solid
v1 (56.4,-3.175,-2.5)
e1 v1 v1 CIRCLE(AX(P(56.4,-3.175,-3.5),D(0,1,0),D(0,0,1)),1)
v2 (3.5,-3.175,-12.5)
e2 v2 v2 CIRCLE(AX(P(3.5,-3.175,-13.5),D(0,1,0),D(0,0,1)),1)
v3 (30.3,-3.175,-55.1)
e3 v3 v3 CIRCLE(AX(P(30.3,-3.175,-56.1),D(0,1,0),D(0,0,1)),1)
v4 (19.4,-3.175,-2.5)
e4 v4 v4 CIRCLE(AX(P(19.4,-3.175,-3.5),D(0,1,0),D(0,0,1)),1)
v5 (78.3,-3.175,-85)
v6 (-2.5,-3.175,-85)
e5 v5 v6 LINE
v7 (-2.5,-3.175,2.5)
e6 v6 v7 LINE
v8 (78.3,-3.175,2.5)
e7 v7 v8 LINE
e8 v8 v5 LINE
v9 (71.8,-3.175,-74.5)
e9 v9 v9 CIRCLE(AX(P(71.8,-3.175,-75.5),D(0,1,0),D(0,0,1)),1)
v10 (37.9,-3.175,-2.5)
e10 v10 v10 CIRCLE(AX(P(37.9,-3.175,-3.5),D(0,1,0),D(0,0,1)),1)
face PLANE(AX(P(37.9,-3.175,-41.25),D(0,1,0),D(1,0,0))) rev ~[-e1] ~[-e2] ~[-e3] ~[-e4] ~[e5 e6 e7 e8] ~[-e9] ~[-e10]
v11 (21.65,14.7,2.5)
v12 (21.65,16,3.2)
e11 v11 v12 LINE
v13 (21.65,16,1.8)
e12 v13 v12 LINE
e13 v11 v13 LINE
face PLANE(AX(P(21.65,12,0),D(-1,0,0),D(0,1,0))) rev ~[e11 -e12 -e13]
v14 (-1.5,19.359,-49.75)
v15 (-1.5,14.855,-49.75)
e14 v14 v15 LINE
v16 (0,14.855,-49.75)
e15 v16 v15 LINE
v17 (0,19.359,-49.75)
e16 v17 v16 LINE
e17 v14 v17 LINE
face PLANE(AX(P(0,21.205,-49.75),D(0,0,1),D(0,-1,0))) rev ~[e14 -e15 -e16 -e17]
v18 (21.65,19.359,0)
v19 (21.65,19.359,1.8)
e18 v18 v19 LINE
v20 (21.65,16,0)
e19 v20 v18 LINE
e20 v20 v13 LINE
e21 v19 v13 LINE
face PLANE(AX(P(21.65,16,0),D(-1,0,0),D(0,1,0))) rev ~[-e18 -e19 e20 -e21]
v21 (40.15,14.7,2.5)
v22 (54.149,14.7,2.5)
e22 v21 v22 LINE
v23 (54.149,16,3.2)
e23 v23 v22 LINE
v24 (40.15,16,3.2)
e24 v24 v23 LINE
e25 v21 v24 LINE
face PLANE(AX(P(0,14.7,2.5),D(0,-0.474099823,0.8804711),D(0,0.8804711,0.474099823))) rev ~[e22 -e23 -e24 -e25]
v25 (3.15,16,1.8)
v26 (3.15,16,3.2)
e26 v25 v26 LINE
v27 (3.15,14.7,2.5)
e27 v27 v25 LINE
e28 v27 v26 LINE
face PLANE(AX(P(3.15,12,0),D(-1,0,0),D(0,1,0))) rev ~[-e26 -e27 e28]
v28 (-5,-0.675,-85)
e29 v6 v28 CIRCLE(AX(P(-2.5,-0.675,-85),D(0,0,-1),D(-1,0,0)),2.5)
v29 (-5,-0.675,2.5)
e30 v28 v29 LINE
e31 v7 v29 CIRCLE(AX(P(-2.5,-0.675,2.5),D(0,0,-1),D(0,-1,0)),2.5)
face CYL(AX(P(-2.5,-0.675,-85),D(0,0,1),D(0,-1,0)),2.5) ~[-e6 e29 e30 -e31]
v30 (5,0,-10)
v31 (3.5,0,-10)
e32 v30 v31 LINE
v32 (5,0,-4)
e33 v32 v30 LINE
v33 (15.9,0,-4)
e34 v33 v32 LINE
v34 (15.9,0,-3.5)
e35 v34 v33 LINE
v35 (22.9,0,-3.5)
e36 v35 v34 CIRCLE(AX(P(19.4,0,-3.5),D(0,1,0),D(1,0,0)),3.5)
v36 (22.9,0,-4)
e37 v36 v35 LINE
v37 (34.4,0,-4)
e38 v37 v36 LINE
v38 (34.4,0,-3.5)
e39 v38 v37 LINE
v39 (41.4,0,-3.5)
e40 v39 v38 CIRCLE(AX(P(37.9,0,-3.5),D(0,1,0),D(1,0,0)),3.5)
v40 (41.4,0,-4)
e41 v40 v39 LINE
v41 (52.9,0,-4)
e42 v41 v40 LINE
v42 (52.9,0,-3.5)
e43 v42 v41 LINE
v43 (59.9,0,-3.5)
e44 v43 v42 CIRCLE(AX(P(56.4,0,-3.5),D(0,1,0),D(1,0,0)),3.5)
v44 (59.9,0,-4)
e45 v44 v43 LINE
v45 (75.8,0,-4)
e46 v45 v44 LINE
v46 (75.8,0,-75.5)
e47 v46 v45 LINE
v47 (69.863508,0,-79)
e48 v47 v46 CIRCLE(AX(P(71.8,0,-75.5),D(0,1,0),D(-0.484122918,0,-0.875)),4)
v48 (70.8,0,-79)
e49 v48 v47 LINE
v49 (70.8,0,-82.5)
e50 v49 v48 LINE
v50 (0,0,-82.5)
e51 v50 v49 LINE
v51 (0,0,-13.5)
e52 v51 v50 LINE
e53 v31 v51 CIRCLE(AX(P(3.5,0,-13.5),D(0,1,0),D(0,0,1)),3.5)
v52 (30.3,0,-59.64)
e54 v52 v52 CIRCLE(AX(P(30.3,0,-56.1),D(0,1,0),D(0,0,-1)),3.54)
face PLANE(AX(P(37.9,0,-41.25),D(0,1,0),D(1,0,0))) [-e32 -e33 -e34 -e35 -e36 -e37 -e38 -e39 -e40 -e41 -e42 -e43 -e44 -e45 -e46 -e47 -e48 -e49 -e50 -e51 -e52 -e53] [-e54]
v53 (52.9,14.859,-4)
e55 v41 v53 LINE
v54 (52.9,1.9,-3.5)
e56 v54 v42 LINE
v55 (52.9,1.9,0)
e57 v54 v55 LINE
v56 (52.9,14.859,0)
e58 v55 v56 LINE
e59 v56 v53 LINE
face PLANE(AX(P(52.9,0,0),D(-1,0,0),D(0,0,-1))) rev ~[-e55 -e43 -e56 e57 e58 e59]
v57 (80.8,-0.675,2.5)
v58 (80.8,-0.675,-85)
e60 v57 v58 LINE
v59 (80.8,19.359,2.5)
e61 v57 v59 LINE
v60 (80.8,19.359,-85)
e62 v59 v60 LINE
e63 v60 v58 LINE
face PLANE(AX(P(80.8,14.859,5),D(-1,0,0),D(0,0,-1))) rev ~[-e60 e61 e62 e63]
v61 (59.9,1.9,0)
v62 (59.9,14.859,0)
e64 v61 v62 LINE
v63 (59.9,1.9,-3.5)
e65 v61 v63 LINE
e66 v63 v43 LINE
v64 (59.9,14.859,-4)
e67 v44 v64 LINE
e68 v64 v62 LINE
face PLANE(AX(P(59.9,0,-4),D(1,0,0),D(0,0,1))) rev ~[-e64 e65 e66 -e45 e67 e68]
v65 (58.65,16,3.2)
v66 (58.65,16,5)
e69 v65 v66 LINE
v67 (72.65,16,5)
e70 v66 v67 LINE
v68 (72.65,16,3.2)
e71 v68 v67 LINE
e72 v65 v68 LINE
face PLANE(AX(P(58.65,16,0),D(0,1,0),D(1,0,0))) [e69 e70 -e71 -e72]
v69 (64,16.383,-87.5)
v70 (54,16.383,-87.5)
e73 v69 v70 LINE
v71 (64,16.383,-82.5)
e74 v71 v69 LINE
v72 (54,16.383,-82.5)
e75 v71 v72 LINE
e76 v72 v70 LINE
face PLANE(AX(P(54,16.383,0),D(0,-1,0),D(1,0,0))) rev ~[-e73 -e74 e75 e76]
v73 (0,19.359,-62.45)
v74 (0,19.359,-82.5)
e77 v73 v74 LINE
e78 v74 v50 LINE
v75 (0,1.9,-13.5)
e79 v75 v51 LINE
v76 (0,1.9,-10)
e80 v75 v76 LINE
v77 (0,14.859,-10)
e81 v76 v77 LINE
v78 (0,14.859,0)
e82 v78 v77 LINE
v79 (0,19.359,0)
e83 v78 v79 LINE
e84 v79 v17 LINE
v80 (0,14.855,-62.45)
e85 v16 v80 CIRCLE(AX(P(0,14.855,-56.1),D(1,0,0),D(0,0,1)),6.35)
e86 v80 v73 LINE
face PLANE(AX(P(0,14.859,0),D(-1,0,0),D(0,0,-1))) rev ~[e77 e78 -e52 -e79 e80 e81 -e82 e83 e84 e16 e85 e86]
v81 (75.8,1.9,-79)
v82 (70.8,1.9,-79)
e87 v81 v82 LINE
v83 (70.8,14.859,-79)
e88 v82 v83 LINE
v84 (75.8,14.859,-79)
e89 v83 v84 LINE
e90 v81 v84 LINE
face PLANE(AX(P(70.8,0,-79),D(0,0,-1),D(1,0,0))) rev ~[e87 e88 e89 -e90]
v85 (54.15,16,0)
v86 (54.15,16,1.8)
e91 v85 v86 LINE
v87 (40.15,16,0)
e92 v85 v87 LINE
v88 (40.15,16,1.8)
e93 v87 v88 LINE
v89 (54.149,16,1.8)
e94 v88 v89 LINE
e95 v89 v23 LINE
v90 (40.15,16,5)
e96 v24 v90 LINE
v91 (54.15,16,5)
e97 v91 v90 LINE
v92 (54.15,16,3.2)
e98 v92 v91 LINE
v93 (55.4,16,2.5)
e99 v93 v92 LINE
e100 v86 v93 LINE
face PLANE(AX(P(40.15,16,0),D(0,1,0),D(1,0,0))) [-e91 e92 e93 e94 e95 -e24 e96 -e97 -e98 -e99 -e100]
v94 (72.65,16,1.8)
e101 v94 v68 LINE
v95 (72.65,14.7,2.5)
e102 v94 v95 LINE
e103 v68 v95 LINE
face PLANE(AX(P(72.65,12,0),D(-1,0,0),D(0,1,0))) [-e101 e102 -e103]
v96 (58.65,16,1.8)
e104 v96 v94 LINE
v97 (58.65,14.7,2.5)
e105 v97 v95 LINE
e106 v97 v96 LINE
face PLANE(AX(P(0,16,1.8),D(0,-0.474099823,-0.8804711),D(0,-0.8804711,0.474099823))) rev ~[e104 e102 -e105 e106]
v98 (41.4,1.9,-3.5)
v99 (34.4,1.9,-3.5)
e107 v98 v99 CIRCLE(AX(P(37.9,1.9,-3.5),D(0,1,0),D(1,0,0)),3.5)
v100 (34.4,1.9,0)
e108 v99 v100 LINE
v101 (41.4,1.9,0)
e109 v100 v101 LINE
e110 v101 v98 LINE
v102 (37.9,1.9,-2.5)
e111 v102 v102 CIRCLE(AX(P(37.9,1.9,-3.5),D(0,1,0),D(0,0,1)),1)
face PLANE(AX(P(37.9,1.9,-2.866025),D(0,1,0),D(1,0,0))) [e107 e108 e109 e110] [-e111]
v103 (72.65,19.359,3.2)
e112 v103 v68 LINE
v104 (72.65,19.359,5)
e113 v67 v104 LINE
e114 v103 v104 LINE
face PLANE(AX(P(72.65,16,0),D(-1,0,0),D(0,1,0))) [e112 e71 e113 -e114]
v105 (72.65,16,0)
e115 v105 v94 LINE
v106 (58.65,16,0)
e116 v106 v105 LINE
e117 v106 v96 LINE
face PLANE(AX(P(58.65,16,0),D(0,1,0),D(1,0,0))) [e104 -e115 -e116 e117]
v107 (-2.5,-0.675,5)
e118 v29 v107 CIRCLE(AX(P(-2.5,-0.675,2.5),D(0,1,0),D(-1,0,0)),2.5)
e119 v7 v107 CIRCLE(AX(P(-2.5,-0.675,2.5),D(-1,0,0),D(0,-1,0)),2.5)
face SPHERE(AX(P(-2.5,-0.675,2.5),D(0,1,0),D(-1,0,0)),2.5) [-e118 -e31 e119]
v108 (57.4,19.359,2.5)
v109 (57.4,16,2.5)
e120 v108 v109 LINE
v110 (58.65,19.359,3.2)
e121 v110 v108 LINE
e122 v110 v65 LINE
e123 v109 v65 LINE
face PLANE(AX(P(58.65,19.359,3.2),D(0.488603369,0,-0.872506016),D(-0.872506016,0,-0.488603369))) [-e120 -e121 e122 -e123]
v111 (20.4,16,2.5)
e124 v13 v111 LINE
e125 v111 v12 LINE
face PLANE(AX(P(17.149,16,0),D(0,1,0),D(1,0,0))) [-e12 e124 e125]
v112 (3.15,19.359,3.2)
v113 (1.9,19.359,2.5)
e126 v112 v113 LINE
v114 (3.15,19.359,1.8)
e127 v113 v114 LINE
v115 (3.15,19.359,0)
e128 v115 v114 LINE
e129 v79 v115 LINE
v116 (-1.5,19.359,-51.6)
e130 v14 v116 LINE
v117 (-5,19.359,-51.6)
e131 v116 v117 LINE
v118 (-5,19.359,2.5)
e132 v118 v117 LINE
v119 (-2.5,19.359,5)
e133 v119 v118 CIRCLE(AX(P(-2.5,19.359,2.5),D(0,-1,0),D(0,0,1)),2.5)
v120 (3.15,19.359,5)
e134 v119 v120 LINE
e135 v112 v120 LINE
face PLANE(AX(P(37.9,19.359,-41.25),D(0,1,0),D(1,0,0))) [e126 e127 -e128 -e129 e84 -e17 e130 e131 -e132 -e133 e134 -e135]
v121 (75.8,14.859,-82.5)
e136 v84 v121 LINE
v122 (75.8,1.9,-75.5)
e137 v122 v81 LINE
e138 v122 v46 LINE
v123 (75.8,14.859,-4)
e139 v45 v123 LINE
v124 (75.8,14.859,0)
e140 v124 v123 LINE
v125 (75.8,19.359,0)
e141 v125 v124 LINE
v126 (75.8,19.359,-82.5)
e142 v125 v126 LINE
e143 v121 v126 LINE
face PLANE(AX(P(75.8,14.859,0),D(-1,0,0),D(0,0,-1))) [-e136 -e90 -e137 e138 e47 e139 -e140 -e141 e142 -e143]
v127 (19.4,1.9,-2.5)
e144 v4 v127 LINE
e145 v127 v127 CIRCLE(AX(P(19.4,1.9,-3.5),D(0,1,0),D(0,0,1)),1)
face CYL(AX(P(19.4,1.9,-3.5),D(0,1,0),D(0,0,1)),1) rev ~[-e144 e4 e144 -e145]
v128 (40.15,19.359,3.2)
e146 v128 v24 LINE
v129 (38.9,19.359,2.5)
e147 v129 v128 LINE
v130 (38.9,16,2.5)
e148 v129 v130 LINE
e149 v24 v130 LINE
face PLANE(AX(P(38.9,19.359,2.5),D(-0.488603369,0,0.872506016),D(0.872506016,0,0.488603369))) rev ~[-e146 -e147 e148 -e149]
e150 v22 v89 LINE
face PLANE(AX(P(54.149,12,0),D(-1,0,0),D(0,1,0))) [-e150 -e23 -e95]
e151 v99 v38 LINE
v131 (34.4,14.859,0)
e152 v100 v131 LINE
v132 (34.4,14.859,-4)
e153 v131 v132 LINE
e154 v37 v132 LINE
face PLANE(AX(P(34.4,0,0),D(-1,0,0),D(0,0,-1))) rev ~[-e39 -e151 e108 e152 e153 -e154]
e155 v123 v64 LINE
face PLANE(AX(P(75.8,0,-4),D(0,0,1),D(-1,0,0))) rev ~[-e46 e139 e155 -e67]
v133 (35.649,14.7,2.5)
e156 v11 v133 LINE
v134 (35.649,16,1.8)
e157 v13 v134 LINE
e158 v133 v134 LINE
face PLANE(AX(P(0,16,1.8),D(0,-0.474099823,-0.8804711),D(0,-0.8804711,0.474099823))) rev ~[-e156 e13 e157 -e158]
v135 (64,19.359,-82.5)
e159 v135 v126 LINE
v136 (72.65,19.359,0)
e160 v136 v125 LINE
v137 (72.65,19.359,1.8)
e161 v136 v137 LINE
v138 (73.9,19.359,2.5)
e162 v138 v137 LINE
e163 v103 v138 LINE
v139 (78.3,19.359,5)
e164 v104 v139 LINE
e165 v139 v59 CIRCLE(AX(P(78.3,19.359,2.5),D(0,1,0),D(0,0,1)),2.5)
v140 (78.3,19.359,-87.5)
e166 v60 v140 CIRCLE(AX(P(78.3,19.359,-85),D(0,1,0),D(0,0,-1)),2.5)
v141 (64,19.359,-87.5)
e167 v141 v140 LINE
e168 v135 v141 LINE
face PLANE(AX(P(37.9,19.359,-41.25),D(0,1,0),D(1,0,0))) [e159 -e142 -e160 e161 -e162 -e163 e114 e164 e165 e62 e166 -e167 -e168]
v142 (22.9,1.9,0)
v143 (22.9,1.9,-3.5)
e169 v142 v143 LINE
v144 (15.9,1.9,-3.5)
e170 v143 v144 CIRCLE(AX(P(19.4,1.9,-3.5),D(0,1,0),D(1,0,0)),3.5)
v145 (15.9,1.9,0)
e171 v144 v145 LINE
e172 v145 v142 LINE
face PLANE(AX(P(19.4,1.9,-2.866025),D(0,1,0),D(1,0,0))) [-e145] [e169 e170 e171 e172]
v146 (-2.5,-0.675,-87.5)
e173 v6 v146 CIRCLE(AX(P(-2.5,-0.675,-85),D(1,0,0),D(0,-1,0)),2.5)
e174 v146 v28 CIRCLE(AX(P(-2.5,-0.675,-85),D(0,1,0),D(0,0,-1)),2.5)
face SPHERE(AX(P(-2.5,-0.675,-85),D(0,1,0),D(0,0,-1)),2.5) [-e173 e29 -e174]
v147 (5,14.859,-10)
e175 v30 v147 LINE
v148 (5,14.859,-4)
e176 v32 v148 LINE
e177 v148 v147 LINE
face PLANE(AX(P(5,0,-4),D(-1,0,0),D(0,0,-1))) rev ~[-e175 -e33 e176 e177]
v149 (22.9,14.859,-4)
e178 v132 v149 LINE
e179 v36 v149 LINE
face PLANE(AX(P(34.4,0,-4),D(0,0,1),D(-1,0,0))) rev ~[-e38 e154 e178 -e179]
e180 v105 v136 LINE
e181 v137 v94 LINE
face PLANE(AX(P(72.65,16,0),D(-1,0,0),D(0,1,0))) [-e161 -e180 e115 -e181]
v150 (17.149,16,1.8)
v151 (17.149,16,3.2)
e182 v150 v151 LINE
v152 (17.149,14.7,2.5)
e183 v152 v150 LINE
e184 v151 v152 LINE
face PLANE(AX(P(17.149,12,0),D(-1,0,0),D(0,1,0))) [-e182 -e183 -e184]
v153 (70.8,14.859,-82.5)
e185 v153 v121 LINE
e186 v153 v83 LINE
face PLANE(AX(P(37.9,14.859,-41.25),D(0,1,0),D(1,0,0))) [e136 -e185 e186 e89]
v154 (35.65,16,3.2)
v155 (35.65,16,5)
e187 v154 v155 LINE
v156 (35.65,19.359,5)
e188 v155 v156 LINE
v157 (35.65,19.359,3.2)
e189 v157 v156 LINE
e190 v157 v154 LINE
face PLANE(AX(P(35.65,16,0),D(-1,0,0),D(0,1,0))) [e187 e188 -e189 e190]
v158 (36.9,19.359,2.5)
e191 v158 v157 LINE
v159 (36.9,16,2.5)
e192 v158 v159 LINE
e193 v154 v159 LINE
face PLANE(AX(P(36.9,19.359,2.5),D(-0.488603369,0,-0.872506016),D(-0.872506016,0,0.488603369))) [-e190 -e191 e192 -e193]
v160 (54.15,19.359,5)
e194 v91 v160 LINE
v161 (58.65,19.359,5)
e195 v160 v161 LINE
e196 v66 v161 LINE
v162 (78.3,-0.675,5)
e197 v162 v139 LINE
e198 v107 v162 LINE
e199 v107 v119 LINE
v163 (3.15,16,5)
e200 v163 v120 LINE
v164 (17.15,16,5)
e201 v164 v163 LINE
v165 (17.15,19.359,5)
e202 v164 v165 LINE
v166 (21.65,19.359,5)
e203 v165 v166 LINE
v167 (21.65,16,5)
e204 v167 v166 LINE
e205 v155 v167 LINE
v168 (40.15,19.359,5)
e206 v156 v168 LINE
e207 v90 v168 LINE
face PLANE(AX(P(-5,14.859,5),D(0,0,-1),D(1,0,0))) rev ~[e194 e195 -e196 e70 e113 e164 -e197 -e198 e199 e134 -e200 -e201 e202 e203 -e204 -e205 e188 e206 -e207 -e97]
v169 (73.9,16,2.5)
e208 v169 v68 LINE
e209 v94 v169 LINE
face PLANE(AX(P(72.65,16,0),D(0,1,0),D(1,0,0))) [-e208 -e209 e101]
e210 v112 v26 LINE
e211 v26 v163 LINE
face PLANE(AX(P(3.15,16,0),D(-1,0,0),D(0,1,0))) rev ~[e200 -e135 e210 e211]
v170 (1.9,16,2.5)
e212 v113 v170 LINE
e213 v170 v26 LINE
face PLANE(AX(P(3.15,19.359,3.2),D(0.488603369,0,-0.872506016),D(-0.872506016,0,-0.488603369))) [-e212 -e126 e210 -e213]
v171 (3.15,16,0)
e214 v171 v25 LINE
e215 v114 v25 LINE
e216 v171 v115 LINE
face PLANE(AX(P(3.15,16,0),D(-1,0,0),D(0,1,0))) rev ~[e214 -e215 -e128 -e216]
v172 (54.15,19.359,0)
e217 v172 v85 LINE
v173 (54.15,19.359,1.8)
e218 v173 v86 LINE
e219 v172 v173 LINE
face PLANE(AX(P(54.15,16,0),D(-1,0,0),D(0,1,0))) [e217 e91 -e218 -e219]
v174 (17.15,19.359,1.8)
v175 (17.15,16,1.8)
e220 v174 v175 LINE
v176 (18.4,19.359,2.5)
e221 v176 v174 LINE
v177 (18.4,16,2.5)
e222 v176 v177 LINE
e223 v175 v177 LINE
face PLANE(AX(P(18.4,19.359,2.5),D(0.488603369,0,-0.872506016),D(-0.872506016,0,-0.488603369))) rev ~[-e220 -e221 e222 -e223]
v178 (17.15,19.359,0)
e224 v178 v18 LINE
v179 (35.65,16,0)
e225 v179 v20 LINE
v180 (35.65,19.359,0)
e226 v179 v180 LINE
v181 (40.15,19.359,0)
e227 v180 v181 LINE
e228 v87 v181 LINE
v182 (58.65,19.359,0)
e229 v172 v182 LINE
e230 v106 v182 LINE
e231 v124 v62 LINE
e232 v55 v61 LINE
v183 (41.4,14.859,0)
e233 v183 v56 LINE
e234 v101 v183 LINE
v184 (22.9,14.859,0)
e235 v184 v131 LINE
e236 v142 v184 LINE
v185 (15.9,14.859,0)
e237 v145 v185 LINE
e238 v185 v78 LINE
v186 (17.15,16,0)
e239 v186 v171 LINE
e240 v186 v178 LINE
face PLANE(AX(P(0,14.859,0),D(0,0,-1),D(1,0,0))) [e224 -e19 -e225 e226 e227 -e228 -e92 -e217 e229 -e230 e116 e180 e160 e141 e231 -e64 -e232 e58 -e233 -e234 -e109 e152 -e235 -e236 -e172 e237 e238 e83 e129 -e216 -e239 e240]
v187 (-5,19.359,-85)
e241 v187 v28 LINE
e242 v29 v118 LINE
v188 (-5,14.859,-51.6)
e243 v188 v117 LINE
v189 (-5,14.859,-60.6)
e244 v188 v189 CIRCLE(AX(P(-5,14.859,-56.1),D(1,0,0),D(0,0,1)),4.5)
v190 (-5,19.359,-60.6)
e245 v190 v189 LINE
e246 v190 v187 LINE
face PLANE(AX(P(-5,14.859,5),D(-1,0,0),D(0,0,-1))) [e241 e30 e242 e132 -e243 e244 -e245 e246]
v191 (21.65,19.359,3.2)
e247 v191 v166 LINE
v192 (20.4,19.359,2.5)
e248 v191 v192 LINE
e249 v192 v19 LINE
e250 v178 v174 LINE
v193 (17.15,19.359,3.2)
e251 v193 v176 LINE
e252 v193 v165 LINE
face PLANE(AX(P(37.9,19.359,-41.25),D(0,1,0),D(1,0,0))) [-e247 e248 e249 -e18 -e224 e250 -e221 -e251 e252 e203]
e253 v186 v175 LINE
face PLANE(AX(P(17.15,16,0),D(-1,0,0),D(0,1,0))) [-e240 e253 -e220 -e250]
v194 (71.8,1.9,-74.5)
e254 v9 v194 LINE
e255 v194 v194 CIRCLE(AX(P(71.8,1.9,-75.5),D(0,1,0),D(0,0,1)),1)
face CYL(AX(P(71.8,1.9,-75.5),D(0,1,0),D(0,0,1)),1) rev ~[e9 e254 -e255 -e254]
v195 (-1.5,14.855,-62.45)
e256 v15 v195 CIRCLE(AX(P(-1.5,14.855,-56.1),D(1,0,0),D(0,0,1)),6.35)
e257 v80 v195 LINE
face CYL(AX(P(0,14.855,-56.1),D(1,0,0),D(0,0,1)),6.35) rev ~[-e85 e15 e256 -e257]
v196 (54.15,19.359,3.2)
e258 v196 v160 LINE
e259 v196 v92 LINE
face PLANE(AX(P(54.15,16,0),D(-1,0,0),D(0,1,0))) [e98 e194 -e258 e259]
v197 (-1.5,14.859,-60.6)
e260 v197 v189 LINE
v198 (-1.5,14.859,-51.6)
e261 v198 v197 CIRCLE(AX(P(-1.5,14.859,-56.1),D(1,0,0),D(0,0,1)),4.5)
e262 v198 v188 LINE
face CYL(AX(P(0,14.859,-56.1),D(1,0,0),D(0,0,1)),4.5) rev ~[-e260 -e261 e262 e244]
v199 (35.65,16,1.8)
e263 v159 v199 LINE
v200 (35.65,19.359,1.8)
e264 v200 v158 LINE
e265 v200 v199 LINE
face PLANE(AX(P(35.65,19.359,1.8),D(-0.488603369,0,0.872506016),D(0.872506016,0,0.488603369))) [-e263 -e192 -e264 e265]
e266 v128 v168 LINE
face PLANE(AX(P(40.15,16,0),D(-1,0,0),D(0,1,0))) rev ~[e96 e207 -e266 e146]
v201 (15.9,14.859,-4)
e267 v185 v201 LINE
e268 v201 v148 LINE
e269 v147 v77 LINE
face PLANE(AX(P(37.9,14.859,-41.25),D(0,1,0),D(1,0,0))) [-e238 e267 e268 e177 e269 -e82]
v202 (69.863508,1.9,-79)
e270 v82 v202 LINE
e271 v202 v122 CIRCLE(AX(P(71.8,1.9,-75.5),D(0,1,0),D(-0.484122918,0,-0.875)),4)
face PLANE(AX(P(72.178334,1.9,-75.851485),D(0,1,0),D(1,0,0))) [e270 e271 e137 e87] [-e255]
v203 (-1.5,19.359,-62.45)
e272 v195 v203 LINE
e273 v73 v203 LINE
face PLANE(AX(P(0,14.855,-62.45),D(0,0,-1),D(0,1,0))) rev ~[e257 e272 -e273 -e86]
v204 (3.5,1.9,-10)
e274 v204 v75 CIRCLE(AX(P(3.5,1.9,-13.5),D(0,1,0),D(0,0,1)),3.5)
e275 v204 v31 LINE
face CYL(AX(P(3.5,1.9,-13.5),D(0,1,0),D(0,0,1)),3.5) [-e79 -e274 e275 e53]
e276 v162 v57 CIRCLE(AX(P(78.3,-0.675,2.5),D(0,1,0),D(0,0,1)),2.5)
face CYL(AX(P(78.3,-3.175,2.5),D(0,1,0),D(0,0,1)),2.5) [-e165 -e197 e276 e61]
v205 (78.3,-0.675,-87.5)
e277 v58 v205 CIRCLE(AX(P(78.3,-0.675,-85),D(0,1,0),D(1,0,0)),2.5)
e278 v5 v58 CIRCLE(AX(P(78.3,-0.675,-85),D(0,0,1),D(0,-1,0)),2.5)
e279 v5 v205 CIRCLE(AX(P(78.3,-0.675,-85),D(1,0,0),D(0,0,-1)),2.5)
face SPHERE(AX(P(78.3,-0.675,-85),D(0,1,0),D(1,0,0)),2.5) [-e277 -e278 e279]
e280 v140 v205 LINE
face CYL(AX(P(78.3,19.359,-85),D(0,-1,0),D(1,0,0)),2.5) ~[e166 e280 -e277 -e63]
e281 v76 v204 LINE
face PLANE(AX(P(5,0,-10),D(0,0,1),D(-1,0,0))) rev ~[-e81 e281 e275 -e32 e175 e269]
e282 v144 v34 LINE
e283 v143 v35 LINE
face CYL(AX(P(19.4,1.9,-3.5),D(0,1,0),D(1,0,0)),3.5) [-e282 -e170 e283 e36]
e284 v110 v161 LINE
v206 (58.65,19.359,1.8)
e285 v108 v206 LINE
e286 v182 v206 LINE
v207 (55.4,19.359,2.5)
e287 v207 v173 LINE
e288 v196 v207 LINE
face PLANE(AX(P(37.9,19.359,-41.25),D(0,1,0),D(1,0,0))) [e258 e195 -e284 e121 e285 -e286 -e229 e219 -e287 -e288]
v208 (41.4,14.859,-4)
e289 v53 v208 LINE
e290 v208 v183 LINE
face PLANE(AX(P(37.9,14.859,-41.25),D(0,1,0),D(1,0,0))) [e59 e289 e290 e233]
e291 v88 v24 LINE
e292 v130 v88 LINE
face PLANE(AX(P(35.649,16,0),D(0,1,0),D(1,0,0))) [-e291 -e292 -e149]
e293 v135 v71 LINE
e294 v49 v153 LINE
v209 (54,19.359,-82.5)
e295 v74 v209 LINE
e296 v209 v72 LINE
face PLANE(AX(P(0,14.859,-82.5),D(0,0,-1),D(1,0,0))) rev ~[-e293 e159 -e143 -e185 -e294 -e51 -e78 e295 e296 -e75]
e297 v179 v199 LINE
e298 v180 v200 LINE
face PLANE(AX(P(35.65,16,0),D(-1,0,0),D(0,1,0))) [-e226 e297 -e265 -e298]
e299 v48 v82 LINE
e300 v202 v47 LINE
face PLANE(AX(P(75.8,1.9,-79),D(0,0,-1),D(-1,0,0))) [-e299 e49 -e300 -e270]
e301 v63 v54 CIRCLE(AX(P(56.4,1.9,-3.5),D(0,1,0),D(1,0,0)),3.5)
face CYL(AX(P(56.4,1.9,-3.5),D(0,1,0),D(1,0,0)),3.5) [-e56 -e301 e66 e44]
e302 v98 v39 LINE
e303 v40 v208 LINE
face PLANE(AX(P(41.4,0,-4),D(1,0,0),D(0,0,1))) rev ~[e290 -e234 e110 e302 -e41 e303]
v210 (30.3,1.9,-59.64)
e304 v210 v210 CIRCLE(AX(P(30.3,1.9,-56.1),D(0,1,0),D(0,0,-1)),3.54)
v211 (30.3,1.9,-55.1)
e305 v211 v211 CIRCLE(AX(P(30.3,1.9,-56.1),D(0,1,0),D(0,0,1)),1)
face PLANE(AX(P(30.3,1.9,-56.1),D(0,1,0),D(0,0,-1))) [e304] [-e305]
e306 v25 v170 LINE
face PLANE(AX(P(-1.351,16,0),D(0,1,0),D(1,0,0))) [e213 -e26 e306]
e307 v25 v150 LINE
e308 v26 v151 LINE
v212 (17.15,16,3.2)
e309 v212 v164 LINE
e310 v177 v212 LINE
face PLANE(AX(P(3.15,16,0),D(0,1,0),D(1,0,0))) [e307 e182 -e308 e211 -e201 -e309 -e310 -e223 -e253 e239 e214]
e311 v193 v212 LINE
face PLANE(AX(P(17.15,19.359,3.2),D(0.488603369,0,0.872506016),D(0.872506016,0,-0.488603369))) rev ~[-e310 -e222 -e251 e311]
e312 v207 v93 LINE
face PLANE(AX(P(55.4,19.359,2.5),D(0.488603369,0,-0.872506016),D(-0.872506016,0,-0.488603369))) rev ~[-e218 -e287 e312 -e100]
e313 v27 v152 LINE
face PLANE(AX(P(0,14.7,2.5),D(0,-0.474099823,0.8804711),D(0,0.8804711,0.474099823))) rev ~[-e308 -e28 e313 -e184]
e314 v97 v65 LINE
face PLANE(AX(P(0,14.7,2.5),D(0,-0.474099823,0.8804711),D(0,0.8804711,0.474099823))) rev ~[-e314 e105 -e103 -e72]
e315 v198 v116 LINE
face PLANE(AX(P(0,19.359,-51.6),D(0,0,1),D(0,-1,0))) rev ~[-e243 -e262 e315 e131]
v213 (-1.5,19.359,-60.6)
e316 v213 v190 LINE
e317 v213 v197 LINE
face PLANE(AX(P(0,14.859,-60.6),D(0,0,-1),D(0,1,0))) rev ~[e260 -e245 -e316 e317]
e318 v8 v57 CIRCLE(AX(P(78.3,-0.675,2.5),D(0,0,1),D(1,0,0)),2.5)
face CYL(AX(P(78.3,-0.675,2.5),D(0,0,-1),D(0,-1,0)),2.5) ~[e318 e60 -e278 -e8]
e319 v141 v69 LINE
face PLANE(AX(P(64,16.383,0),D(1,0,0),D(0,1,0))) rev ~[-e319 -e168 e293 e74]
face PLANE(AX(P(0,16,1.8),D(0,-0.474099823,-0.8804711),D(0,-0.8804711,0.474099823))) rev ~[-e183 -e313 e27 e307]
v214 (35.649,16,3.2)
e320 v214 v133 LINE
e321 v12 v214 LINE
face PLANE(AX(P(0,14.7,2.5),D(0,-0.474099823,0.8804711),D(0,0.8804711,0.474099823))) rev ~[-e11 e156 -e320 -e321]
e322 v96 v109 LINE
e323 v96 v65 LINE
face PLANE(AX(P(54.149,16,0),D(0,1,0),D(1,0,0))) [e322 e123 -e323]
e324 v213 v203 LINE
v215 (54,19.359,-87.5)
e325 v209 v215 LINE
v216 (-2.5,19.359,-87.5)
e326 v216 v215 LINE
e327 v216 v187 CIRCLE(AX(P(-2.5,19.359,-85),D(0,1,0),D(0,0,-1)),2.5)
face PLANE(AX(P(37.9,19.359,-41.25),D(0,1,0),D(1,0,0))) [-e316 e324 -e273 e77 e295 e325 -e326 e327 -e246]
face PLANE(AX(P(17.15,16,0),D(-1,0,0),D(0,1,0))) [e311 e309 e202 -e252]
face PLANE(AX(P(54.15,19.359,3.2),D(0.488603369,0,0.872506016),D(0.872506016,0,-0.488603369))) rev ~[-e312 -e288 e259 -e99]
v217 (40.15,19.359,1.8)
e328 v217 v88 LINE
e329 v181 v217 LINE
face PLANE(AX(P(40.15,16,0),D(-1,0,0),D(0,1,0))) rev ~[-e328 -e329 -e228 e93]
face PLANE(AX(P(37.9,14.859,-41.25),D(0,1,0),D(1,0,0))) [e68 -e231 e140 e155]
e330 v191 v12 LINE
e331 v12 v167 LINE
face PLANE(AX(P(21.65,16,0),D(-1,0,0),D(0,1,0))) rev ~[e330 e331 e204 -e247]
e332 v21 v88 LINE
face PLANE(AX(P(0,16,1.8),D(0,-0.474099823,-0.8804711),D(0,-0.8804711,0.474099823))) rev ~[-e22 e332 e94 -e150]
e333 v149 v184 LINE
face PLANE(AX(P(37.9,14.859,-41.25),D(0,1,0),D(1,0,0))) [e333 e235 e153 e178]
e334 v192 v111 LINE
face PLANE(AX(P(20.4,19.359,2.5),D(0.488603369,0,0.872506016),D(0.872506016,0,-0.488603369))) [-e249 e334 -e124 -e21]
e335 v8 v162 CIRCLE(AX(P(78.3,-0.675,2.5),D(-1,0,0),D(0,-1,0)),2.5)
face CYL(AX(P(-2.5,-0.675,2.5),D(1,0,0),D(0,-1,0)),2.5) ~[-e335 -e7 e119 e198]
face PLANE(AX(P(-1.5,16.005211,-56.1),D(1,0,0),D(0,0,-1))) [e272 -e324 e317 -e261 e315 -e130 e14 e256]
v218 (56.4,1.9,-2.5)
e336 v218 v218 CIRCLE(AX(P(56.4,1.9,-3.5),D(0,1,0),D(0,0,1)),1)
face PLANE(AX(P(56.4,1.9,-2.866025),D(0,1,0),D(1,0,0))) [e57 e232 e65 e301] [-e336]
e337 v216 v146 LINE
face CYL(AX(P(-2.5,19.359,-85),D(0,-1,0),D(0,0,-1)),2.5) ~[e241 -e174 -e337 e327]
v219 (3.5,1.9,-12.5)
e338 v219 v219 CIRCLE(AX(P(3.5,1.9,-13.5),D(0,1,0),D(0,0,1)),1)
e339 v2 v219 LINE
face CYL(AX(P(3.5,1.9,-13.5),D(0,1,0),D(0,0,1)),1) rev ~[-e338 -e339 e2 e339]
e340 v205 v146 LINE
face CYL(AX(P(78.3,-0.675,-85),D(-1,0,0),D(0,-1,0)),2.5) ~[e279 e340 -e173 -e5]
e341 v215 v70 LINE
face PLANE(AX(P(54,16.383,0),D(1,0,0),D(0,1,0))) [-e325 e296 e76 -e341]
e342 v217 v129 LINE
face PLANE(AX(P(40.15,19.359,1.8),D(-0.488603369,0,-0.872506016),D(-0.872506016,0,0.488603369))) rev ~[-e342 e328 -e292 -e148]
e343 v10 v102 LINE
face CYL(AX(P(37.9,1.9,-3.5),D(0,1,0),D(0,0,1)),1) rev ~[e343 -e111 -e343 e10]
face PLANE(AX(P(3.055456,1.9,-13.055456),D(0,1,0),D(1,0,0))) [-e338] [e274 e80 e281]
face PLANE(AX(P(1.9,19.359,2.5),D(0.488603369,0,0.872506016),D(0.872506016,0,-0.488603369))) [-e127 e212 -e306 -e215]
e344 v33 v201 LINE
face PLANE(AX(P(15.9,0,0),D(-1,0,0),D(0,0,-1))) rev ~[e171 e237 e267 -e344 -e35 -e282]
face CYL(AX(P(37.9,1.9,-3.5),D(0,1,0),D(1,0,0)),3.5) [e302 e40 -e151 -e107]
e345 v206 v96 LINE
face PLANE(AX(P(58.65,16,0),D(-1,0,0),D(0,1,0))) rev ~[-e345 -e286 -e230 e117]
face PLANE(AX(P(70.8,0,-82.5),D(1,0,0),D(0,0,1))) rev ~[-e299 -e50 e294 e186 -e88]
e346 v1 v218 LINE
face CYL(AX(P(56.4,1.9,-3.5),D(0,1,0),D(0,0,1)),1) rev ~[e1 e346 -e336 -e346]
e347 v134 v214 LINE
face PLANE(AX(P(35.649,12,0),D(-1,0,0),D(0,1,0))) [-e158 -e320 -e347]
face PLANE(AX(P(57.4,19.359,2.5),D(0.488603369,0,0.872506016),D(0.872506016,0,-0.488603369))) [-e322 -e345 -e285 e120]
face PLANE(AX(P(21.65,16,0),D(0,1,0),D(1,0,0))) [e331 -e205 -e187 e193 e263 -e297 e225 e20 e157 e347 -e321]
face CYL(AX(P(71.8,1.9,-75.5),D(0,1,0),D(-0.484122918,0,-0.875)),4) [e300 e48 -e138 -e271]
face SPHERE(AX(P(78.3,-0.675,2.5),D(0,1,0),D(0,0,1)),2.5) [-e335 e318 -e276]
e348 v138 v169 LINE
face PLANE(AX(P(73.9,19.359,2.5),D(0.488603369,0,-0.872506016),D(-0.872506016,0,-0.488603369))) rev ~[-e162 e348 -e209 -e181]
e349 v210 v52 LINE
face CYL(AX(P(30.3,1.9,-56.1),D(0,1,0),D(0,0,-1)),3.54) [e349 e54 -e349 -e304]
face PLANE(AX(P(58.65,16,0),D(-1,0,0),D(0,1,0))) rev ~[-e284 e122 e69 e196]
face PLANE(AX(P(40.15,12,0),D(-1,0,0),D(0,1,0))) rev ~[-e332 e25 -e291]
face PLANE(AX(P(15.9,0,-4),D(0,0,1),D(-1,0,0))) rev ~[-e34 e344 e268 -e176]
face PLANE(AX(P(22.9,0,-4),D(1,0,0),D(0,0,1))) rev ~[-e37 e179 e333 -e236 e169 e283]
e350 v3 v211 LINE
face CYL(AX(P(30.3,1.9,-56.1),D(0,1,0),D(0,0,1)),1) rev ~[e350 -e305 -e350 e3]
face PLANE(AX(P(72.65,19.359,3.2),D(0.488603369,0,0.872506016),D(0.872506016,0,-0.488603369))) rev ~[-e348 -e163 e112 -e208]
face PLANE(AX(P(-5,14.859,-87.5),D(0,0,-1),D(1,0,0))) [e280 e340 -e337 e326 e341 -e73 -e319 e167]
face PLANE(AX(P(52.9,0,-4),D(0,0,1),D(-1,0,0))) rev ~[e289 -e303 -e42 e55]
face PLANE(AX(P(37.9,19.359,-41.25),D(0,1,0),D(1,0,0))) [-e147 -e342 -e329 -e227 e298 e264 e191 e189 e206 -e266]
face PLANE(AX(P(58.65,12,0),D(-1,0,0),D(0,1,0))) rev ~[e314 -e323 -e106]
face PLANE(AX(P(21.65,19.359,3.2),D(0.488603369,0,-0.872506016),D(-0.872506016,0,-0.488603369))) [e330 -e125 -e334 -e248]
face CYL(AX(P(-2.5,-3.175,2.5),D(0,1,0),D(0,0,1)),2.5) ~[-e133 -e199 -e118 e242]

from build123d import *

# Parameters (mm, degrees)
SKETCH1_W           = 85.8
SKETCH1_H           = 92.5
BOSS_EXTRUDE1_DEPTH = 14.859
SKETCH2_W           = 85.8
SKETCH2_H           = 92.5
SKETCH2_R           = 1
BOSS_EXTRUDE2_DEPTH = 3.175
SKETCH4_W           = 85.8
SKETCH4_H           = 92.5
SKETCH4_W_2         = 75.8
SKETCH4_H_2         = 82.5
BOSS_EXTRUDE3_DEPTH = 4.5
CUT_EXTRUDE1_DEPTH  = 121.663419813
SKETCH5_W           = 14
SKETCH5_H           = 8
CUT_EXTRUDE2_DEPTH  = 121.663419813
SKETCH6_W           = 10
SKETCH6_H           = 6
CUT_EXTRUDE3_DEPTH  = 121.663419813
BOSS_EXTRUDE4_START = 1.9
SKETCH7_R           = 3.54
SKETCH7_R_2         = 1
BOSS_EXTRUDE4_DEPTH = 1.9
FILLET1_R           = 2.5
FILLET2_R           = 2.5
FILLET3_R           = 2.5
FILLET4_R           = 2.5
FILLET5_R           = 2.5
CUT_EXTRUDE4_DEPTH  = 1.5
CUT_EXTRUDE5_DEPTH  = 4
CUT_EXTRUDE7_DEPTH  = 73.9
SKETCH12_W          = 4.501
SKETCH12_H          = 4
BOSS_EXTRUDE8_DEPTH = 5


with BuildPart() as part:
    # Sketch1 → Boss-Extrude1 (new body)
    with BuildSketch(Plane(origin=(0, 0, 0), x_dir=(1, 0, 0), z_dir=(0, 1, 0))):
        with Locations((37.9, 41.25)):
            Rectangle(SKETCH1_W, SKETCH1_H)
        Polygon((5, 4), (5, 10), (0, 10), (0, 82.5), (70.8, 82.5), (70.8, 79), (75.8, 79), (75.8, 4), (59.9, 4), (59.9, 0), (52.9, 0), (52.9, 4), (41.4, 4), (41.4, 0), (34.4, 0), (34.4, 4), (22.9, 4), (22.9, 0), (15.9, 0), (15.9, 4), align=None, mode=Mode.SUBTRACT)
    extrude(amount=BOSS_EXTRUDE1_DEPTH)

    # Sketch2 → Boss-Extrude2 (add)
    with BuildSketch(Plane(origin=(0, 0, 0), x_dir=(1, 0, 0), z_dir=(0, 1, 0))):
        with Locations((37.9, 41.25)):
            Rectangle(SKETCH2_W, SKETCH2_H)
        with Locations(Location((3.5, 13.5, 0), (0, 0, 270))):
            Circle(SKETCH2_R, mode=Mode.SUBTRACT)
        with Locations(Location((19.4, 3.5, 0), (0, 0, 270))):
            Circle(SKETCH2_R, mode=Mode.SUBTRACT)
        with Locations(Location((37.9, 3.5, 0), (0, 0, 270))):
            Circle(SKETCH2_R, mode=Mode.SUBTRACT)
        with Locations(Location((56.4, 3.5, 0), (0, 0, 270))):
            Circle(SKETCH2_R, mode=Mode.SUBTRACT)
        with Locations(Location((30.3, 56.1, 0), (0, 0, 270))):
            Circle(SKETCH2_R, mode=Mode.SUBTRACT)
        with Locations(Location((71.8, 75.5, 0), (0, 0, 270))):
            Circle(SKETCH2_R, mode=Mode.SUBTRACT)
    extrude(amount=-BOSS_EXTRUDE2_DEPTH)

    # Sketch4 → Boss-Extrude3 (add)
    with BuildSketch(Plane(origin=(0, 14.859, 0), x_dir=(1, 0, 0), z_dir=(0, 1, 0))):
        with Locations((37.9, 41.25)):
            Rectangle(SKETCH4_W, SKETCH4_H)
        with Locations((37.9, 41.25)):
            Rectangle(SKETCH4_W_2, SKETCH4_H_2, mode=Mode.SUBTRACT)
    extrude(amount=BOSS_EXTRUDE3_DEPTH)

    # Sketch3 → Cut-Extrude1 (cut, through all)
    with BuildSketch(Plane(origin=(0, 0, 0), x_dir=(0, 0, -1), z_dir=(1, 0, 0))):
        with BuildLine():
            Line((60.6, 14.859), (60.6, 19.359))
            Line((60.6, 19.359), (51.6, 19.359))
            Line((51.6, 19.359), (51.6, 14.859))
            ThreePointArc((51.6, 14.859), (56.1, 10.359), (60.6, 14.859))
        make_face()
    extrude(amount=-CUT_EXTRUDE1_DEPTH, mode=Mode.SUBTRACT)

    # Sketch5 → Cut-Extrude2 (cut, through all)
    with BuildSketch(Plane.XY):
        with Locations((10.15, 20)):
            Rectangle(SKETCH5_W, SKETCH5_H)
        with Locations((28.65, 20)):
            Rectangle(SKETCH5_W, SKETCH5_H)
        with Locations((47.15, 20)):
            Rectangle(SKETCH5_W, SKETCH5_H)
        with Locations((65.65, 20)):
            Rectangle(SKETCH5_W, SKETCH5_H)
    extrude(amount=CUT_EXTRUDE2_DEPTH, mode=Mode.SUBTRACT)

    # Sketch6 → Cut-Extrude3 (cut, through all)
    with BuildSketch(Plane.XY):
        with Locations((59, 19.383)):
            Rectangle(SKETCH6_W, SKETCH6_H)
    extrude(amount=-CUT_EXTRUDE3_DEPTH, mode=Mode.SUBTRACT)

    # Sketch7 → Boss-Extrude4 (add)
    # profile 1 of 6: a face of its own
    with BuildSketch(Plane(origin=(0, 0, 0), x_dir=(1, 0, 0), z_dir=(0, 1, 0)).offset(BOSS_EXTRUDE4_START)):
        with Locations(Location((30.3, 56.1, 0), (0, 0, 90))):
            Circle(SKETCH7_R)
        with Locations(Location((30.3, 56.1, 0), (0, 0, 270))):
            Circle(SKETCH7_R_2, mode=Mode.SUBTRACT)
    # profile 2 of 6: a face of its own
    with BuildSketch(Plane(origin=(0, 0, 0), x_dir=(1, 0, 0), z_dir=(0, 1, 0)).offset(BOSS_EXTRUDE4_START)):
        with BuildLine():
            Line((0, 13.5), (0, 10))
            Line((0, 10), (3.5, 10))
            ThreePointArc((3.5, 10), (5.974873734, 15.974873734), (0, 13.5))
        make_face()
        with Locations(Location((3.5, 13.5, 0), (0, 0, 270))):
            Circle(SKETCH7_R_2, mode=Mode.SUBTRACT)
    # profile 3 of 6: a face of its own
    with BuildSketch(Plane(origin=(0, 0, 0), x_dir=(1, 0, 0), z_dir=(0, 1, 0)).offset(BOSS_EXTRUDE4_START)):
        with BuildLine():
            Line((15.9, 3.5), (15.9, 0))
            Line((15.9, 0), (22.9, 0))
            Line((22.9, 0), (22.9, 3.5))
            ThreePointArc((22.9, 3.5), (19.4, 7), (15.9, 3.5))
        make_face()
        with Locations(Location((19.4, 3.5, 0), (0, 0, 270))):
            Circle(SKETCH7_R_2, mode=Mode.SUBTRACT)
    # profile 4 of 6: a face of its own
    with BuildSketch(Plane(origin=(0, 0, 0), x_dir=(1, 0, 0), z_dir=(0, 1, 0)).offset(BOSS_EXTRUDE4_START)):
        with BuildLine():
            Line((34.4, 3.5), (34.4, 0))
            Line((34.4, 0), (41.4, 0))
            Line((41.4, 0), (41.4, 3.5))
            ThreePointArc((41.4, 3.5), (37.9, 7), (34.4, 3.5))
        make_face()
        with Locations(Location((37.9, 3.5, 0), (0, 0, 270))):
            Circle(SKETCH7_R_2, mode=Mode.SUBTRACT)
    # profile 5 of 6: a face of its own
    with BuildSketch(Plane(origin=(0, 0, 0), x_dir=(1, 0, 0), z_dir=(0, 1, 0)).offset(BOSS_EXTRUDE4_START)):
        with BuildLine():
            Line((52.9, 3.5), (52.9, 0))
            Line((52.9, 0), (59.9, 0))
            Line((59.9, 0), (59.9, 3.5))
            ThreePointArc((59.9, 3.5), (56.4, 7), (52.9, 3.5))
        make_face()
        with Locations(Location((56.4, 3.5, 0), (0, 0, 270))):
            Circle(SKETCH7_R_2, mode=Mode.SUBTRACT)
    # profile 6 of 6: a face of its own
    with BuildSketch(Plane(origin=(0, 0, 0), x_dir=(1, 0, 0), z_dir=(0, 1, 0)).offset(BOSS_EXTRUDE4_START)):
        with BuildLine():
            Line((75.8, 79), (69.863508327, 79))
            ThreePointArc((69.863508327, 79), (69.768493994, 72.054280431), (75.8, 75.5))
            Line((75.8, 75.5), (75.8, 79))
        make_face()
        with Locations(Location((71.8, 75.5, 0), (0, 0, 270))):
            Circle(SKETCH7_R_2, mode=Mode.SUBTRACT)
    extrude(amount=-BOSS_EXTRUDE4_DEPTH)

    # Fillet1
    fillet1_edges = [part.edges().sort_by_distance(p)[0] for p in [
        (-5, 8.092, 5),
    ]]
    fillet(fillet1_edges, radius=FILLET1_R)

    # Fillet2
    fillet2_edges = [part.edges().sort_by_distance(p)[0] for p in [
        (80.8, 8.092, 5),
    ]]
    fillet(fillet2_edges, radius=FILLET2_R)

    # Fillet3
    fillet3_edges = [part.edges().sort_by_distance(p)[0] for p in [
        (80.8, 8.092, -87.5),
    ]]
    fillet(fillet3_edges, radius=FILLET3_R)

    # Fillet4
    fillet4_edges = [part.edges().sort_by_distance(p)[0] for p in [
        (-5, 8.092, -87.5),
    ]]
    fillet(fillet4_edges, radius=FILLET4_R)

    # Fillet5
    fillet5_edges = [part.edges().sort_by_distance(p)[0] for p in [
        (37.9, -3.175, 5),
        (-4.267766953, -3.175, 4.267766953),
        (80.8, -3.175, -41.25),
        (80.067766953, -3.175, 4.267766953),
        (37.9, -3.175, -87.5),
        (80.067766953, -3.175, -86.767766953),
        (-5, -3.175, -41.25),
        (-4.267766953, -3.175, -86.767766953),
    ]]
    fillet(fillet5_edges, radius=FILLET5_R)

    # Sketch8 → Cut-Extrude4 (cut)
    with BuildSketch(Plane(origin=(0, 0, 0), x_dir=(0, 0, -1), z_dir=(1, 0, 0))):
        with BuildLine():
            Line((62.45, 14.855), (62.45, 21.205))
            Line((62.45, 21.205), (49.75, 21.205))
            Line((49.75, 21.205), (49.75, 14.855))
            ThreePointArc((49.75, 14.855), (56.1, 8.505), (62.45, 14.855))
        make_face()
    extrude(amount=-CUT_EXTRUDE4_DEPTH, mode=Mode.SUBTRACT)

    # Sketch9 → Cut-Extrude5 (cut)
    with BuildSketch(Plane(origin=(0, 19.359, 0), x_dir=(1, 0, 0), z_dir=(0, 1, 0))):
        Polygon((3.15, -1.8), (3.15, -3.2), (1.9, -2.5), align=None)
        Polygon((17.15, -1.8), (17.15, -3.2), (18.4, -2.5), align=None)
        Polygon((21.65, -1.8), (21.65, -3.2), (20.4, -2.5), align=None)
        Polygon((35.65, -1.8), (36.9, -2.5), (35.65, -3.2), align=None)
        Polygon((40.15, -1.8), (38.9, -2.5), (40.15, -3.2), align=None)
        Polygon((54.15, -1.8), (54.15, -3.2), (55.4, -2.5), align=None)
        Polygon((58.65, -1.8), (58.65, -3.2), (57.4, -2.5), align=None)
        Polygon((72.65, -1.8), (72.65, -3.2), (73.9, -2.5), align=None)
    extrude(amount=-CUT_EXTRUDE5_DEPTH, mode=Mode.SUBTRACT)

    # Sketch10 → Cut-Extrude7 (cut)
    with BuildSketch(Plane(origin=(0, 0, 0), x_dir=(0, 0, -1), z_dir=(1, 0, 0))):
        Polygon((-3.2, 16), (-1.8, 16), (-2.5, 14.7), align=None)
    extrude(amount=CUT_EXTRUDE7_DEPTH, mode=Mode.SUBTRACT)

    # Sketch12 → Boss-Extrude8 (add)
    with BuildSketch(Plane.XY):
        with Locations((0.8995, 14)):
            Rectangle(SKETCH12_W, SKETCH12_H)
        with Locations((19.3995, 14)):
            Rectangle(SKETCH12_W, SKETCH12_H)
        with Locations((37.8995, 14)):
            Rectangle(SKETCH12_W, SKETCH12_H)
        with Locations((56.3995, 14)):
            Rectangle(SKETCH12_W, SKETCH12_H)
        with Locations((74.9005, 14)):
            Rectangle(SKETCH12_W, SKETCH12_H)
    extrude(amount=BOSS_EXTRUDE8_DEPTH)


solid = part.part
